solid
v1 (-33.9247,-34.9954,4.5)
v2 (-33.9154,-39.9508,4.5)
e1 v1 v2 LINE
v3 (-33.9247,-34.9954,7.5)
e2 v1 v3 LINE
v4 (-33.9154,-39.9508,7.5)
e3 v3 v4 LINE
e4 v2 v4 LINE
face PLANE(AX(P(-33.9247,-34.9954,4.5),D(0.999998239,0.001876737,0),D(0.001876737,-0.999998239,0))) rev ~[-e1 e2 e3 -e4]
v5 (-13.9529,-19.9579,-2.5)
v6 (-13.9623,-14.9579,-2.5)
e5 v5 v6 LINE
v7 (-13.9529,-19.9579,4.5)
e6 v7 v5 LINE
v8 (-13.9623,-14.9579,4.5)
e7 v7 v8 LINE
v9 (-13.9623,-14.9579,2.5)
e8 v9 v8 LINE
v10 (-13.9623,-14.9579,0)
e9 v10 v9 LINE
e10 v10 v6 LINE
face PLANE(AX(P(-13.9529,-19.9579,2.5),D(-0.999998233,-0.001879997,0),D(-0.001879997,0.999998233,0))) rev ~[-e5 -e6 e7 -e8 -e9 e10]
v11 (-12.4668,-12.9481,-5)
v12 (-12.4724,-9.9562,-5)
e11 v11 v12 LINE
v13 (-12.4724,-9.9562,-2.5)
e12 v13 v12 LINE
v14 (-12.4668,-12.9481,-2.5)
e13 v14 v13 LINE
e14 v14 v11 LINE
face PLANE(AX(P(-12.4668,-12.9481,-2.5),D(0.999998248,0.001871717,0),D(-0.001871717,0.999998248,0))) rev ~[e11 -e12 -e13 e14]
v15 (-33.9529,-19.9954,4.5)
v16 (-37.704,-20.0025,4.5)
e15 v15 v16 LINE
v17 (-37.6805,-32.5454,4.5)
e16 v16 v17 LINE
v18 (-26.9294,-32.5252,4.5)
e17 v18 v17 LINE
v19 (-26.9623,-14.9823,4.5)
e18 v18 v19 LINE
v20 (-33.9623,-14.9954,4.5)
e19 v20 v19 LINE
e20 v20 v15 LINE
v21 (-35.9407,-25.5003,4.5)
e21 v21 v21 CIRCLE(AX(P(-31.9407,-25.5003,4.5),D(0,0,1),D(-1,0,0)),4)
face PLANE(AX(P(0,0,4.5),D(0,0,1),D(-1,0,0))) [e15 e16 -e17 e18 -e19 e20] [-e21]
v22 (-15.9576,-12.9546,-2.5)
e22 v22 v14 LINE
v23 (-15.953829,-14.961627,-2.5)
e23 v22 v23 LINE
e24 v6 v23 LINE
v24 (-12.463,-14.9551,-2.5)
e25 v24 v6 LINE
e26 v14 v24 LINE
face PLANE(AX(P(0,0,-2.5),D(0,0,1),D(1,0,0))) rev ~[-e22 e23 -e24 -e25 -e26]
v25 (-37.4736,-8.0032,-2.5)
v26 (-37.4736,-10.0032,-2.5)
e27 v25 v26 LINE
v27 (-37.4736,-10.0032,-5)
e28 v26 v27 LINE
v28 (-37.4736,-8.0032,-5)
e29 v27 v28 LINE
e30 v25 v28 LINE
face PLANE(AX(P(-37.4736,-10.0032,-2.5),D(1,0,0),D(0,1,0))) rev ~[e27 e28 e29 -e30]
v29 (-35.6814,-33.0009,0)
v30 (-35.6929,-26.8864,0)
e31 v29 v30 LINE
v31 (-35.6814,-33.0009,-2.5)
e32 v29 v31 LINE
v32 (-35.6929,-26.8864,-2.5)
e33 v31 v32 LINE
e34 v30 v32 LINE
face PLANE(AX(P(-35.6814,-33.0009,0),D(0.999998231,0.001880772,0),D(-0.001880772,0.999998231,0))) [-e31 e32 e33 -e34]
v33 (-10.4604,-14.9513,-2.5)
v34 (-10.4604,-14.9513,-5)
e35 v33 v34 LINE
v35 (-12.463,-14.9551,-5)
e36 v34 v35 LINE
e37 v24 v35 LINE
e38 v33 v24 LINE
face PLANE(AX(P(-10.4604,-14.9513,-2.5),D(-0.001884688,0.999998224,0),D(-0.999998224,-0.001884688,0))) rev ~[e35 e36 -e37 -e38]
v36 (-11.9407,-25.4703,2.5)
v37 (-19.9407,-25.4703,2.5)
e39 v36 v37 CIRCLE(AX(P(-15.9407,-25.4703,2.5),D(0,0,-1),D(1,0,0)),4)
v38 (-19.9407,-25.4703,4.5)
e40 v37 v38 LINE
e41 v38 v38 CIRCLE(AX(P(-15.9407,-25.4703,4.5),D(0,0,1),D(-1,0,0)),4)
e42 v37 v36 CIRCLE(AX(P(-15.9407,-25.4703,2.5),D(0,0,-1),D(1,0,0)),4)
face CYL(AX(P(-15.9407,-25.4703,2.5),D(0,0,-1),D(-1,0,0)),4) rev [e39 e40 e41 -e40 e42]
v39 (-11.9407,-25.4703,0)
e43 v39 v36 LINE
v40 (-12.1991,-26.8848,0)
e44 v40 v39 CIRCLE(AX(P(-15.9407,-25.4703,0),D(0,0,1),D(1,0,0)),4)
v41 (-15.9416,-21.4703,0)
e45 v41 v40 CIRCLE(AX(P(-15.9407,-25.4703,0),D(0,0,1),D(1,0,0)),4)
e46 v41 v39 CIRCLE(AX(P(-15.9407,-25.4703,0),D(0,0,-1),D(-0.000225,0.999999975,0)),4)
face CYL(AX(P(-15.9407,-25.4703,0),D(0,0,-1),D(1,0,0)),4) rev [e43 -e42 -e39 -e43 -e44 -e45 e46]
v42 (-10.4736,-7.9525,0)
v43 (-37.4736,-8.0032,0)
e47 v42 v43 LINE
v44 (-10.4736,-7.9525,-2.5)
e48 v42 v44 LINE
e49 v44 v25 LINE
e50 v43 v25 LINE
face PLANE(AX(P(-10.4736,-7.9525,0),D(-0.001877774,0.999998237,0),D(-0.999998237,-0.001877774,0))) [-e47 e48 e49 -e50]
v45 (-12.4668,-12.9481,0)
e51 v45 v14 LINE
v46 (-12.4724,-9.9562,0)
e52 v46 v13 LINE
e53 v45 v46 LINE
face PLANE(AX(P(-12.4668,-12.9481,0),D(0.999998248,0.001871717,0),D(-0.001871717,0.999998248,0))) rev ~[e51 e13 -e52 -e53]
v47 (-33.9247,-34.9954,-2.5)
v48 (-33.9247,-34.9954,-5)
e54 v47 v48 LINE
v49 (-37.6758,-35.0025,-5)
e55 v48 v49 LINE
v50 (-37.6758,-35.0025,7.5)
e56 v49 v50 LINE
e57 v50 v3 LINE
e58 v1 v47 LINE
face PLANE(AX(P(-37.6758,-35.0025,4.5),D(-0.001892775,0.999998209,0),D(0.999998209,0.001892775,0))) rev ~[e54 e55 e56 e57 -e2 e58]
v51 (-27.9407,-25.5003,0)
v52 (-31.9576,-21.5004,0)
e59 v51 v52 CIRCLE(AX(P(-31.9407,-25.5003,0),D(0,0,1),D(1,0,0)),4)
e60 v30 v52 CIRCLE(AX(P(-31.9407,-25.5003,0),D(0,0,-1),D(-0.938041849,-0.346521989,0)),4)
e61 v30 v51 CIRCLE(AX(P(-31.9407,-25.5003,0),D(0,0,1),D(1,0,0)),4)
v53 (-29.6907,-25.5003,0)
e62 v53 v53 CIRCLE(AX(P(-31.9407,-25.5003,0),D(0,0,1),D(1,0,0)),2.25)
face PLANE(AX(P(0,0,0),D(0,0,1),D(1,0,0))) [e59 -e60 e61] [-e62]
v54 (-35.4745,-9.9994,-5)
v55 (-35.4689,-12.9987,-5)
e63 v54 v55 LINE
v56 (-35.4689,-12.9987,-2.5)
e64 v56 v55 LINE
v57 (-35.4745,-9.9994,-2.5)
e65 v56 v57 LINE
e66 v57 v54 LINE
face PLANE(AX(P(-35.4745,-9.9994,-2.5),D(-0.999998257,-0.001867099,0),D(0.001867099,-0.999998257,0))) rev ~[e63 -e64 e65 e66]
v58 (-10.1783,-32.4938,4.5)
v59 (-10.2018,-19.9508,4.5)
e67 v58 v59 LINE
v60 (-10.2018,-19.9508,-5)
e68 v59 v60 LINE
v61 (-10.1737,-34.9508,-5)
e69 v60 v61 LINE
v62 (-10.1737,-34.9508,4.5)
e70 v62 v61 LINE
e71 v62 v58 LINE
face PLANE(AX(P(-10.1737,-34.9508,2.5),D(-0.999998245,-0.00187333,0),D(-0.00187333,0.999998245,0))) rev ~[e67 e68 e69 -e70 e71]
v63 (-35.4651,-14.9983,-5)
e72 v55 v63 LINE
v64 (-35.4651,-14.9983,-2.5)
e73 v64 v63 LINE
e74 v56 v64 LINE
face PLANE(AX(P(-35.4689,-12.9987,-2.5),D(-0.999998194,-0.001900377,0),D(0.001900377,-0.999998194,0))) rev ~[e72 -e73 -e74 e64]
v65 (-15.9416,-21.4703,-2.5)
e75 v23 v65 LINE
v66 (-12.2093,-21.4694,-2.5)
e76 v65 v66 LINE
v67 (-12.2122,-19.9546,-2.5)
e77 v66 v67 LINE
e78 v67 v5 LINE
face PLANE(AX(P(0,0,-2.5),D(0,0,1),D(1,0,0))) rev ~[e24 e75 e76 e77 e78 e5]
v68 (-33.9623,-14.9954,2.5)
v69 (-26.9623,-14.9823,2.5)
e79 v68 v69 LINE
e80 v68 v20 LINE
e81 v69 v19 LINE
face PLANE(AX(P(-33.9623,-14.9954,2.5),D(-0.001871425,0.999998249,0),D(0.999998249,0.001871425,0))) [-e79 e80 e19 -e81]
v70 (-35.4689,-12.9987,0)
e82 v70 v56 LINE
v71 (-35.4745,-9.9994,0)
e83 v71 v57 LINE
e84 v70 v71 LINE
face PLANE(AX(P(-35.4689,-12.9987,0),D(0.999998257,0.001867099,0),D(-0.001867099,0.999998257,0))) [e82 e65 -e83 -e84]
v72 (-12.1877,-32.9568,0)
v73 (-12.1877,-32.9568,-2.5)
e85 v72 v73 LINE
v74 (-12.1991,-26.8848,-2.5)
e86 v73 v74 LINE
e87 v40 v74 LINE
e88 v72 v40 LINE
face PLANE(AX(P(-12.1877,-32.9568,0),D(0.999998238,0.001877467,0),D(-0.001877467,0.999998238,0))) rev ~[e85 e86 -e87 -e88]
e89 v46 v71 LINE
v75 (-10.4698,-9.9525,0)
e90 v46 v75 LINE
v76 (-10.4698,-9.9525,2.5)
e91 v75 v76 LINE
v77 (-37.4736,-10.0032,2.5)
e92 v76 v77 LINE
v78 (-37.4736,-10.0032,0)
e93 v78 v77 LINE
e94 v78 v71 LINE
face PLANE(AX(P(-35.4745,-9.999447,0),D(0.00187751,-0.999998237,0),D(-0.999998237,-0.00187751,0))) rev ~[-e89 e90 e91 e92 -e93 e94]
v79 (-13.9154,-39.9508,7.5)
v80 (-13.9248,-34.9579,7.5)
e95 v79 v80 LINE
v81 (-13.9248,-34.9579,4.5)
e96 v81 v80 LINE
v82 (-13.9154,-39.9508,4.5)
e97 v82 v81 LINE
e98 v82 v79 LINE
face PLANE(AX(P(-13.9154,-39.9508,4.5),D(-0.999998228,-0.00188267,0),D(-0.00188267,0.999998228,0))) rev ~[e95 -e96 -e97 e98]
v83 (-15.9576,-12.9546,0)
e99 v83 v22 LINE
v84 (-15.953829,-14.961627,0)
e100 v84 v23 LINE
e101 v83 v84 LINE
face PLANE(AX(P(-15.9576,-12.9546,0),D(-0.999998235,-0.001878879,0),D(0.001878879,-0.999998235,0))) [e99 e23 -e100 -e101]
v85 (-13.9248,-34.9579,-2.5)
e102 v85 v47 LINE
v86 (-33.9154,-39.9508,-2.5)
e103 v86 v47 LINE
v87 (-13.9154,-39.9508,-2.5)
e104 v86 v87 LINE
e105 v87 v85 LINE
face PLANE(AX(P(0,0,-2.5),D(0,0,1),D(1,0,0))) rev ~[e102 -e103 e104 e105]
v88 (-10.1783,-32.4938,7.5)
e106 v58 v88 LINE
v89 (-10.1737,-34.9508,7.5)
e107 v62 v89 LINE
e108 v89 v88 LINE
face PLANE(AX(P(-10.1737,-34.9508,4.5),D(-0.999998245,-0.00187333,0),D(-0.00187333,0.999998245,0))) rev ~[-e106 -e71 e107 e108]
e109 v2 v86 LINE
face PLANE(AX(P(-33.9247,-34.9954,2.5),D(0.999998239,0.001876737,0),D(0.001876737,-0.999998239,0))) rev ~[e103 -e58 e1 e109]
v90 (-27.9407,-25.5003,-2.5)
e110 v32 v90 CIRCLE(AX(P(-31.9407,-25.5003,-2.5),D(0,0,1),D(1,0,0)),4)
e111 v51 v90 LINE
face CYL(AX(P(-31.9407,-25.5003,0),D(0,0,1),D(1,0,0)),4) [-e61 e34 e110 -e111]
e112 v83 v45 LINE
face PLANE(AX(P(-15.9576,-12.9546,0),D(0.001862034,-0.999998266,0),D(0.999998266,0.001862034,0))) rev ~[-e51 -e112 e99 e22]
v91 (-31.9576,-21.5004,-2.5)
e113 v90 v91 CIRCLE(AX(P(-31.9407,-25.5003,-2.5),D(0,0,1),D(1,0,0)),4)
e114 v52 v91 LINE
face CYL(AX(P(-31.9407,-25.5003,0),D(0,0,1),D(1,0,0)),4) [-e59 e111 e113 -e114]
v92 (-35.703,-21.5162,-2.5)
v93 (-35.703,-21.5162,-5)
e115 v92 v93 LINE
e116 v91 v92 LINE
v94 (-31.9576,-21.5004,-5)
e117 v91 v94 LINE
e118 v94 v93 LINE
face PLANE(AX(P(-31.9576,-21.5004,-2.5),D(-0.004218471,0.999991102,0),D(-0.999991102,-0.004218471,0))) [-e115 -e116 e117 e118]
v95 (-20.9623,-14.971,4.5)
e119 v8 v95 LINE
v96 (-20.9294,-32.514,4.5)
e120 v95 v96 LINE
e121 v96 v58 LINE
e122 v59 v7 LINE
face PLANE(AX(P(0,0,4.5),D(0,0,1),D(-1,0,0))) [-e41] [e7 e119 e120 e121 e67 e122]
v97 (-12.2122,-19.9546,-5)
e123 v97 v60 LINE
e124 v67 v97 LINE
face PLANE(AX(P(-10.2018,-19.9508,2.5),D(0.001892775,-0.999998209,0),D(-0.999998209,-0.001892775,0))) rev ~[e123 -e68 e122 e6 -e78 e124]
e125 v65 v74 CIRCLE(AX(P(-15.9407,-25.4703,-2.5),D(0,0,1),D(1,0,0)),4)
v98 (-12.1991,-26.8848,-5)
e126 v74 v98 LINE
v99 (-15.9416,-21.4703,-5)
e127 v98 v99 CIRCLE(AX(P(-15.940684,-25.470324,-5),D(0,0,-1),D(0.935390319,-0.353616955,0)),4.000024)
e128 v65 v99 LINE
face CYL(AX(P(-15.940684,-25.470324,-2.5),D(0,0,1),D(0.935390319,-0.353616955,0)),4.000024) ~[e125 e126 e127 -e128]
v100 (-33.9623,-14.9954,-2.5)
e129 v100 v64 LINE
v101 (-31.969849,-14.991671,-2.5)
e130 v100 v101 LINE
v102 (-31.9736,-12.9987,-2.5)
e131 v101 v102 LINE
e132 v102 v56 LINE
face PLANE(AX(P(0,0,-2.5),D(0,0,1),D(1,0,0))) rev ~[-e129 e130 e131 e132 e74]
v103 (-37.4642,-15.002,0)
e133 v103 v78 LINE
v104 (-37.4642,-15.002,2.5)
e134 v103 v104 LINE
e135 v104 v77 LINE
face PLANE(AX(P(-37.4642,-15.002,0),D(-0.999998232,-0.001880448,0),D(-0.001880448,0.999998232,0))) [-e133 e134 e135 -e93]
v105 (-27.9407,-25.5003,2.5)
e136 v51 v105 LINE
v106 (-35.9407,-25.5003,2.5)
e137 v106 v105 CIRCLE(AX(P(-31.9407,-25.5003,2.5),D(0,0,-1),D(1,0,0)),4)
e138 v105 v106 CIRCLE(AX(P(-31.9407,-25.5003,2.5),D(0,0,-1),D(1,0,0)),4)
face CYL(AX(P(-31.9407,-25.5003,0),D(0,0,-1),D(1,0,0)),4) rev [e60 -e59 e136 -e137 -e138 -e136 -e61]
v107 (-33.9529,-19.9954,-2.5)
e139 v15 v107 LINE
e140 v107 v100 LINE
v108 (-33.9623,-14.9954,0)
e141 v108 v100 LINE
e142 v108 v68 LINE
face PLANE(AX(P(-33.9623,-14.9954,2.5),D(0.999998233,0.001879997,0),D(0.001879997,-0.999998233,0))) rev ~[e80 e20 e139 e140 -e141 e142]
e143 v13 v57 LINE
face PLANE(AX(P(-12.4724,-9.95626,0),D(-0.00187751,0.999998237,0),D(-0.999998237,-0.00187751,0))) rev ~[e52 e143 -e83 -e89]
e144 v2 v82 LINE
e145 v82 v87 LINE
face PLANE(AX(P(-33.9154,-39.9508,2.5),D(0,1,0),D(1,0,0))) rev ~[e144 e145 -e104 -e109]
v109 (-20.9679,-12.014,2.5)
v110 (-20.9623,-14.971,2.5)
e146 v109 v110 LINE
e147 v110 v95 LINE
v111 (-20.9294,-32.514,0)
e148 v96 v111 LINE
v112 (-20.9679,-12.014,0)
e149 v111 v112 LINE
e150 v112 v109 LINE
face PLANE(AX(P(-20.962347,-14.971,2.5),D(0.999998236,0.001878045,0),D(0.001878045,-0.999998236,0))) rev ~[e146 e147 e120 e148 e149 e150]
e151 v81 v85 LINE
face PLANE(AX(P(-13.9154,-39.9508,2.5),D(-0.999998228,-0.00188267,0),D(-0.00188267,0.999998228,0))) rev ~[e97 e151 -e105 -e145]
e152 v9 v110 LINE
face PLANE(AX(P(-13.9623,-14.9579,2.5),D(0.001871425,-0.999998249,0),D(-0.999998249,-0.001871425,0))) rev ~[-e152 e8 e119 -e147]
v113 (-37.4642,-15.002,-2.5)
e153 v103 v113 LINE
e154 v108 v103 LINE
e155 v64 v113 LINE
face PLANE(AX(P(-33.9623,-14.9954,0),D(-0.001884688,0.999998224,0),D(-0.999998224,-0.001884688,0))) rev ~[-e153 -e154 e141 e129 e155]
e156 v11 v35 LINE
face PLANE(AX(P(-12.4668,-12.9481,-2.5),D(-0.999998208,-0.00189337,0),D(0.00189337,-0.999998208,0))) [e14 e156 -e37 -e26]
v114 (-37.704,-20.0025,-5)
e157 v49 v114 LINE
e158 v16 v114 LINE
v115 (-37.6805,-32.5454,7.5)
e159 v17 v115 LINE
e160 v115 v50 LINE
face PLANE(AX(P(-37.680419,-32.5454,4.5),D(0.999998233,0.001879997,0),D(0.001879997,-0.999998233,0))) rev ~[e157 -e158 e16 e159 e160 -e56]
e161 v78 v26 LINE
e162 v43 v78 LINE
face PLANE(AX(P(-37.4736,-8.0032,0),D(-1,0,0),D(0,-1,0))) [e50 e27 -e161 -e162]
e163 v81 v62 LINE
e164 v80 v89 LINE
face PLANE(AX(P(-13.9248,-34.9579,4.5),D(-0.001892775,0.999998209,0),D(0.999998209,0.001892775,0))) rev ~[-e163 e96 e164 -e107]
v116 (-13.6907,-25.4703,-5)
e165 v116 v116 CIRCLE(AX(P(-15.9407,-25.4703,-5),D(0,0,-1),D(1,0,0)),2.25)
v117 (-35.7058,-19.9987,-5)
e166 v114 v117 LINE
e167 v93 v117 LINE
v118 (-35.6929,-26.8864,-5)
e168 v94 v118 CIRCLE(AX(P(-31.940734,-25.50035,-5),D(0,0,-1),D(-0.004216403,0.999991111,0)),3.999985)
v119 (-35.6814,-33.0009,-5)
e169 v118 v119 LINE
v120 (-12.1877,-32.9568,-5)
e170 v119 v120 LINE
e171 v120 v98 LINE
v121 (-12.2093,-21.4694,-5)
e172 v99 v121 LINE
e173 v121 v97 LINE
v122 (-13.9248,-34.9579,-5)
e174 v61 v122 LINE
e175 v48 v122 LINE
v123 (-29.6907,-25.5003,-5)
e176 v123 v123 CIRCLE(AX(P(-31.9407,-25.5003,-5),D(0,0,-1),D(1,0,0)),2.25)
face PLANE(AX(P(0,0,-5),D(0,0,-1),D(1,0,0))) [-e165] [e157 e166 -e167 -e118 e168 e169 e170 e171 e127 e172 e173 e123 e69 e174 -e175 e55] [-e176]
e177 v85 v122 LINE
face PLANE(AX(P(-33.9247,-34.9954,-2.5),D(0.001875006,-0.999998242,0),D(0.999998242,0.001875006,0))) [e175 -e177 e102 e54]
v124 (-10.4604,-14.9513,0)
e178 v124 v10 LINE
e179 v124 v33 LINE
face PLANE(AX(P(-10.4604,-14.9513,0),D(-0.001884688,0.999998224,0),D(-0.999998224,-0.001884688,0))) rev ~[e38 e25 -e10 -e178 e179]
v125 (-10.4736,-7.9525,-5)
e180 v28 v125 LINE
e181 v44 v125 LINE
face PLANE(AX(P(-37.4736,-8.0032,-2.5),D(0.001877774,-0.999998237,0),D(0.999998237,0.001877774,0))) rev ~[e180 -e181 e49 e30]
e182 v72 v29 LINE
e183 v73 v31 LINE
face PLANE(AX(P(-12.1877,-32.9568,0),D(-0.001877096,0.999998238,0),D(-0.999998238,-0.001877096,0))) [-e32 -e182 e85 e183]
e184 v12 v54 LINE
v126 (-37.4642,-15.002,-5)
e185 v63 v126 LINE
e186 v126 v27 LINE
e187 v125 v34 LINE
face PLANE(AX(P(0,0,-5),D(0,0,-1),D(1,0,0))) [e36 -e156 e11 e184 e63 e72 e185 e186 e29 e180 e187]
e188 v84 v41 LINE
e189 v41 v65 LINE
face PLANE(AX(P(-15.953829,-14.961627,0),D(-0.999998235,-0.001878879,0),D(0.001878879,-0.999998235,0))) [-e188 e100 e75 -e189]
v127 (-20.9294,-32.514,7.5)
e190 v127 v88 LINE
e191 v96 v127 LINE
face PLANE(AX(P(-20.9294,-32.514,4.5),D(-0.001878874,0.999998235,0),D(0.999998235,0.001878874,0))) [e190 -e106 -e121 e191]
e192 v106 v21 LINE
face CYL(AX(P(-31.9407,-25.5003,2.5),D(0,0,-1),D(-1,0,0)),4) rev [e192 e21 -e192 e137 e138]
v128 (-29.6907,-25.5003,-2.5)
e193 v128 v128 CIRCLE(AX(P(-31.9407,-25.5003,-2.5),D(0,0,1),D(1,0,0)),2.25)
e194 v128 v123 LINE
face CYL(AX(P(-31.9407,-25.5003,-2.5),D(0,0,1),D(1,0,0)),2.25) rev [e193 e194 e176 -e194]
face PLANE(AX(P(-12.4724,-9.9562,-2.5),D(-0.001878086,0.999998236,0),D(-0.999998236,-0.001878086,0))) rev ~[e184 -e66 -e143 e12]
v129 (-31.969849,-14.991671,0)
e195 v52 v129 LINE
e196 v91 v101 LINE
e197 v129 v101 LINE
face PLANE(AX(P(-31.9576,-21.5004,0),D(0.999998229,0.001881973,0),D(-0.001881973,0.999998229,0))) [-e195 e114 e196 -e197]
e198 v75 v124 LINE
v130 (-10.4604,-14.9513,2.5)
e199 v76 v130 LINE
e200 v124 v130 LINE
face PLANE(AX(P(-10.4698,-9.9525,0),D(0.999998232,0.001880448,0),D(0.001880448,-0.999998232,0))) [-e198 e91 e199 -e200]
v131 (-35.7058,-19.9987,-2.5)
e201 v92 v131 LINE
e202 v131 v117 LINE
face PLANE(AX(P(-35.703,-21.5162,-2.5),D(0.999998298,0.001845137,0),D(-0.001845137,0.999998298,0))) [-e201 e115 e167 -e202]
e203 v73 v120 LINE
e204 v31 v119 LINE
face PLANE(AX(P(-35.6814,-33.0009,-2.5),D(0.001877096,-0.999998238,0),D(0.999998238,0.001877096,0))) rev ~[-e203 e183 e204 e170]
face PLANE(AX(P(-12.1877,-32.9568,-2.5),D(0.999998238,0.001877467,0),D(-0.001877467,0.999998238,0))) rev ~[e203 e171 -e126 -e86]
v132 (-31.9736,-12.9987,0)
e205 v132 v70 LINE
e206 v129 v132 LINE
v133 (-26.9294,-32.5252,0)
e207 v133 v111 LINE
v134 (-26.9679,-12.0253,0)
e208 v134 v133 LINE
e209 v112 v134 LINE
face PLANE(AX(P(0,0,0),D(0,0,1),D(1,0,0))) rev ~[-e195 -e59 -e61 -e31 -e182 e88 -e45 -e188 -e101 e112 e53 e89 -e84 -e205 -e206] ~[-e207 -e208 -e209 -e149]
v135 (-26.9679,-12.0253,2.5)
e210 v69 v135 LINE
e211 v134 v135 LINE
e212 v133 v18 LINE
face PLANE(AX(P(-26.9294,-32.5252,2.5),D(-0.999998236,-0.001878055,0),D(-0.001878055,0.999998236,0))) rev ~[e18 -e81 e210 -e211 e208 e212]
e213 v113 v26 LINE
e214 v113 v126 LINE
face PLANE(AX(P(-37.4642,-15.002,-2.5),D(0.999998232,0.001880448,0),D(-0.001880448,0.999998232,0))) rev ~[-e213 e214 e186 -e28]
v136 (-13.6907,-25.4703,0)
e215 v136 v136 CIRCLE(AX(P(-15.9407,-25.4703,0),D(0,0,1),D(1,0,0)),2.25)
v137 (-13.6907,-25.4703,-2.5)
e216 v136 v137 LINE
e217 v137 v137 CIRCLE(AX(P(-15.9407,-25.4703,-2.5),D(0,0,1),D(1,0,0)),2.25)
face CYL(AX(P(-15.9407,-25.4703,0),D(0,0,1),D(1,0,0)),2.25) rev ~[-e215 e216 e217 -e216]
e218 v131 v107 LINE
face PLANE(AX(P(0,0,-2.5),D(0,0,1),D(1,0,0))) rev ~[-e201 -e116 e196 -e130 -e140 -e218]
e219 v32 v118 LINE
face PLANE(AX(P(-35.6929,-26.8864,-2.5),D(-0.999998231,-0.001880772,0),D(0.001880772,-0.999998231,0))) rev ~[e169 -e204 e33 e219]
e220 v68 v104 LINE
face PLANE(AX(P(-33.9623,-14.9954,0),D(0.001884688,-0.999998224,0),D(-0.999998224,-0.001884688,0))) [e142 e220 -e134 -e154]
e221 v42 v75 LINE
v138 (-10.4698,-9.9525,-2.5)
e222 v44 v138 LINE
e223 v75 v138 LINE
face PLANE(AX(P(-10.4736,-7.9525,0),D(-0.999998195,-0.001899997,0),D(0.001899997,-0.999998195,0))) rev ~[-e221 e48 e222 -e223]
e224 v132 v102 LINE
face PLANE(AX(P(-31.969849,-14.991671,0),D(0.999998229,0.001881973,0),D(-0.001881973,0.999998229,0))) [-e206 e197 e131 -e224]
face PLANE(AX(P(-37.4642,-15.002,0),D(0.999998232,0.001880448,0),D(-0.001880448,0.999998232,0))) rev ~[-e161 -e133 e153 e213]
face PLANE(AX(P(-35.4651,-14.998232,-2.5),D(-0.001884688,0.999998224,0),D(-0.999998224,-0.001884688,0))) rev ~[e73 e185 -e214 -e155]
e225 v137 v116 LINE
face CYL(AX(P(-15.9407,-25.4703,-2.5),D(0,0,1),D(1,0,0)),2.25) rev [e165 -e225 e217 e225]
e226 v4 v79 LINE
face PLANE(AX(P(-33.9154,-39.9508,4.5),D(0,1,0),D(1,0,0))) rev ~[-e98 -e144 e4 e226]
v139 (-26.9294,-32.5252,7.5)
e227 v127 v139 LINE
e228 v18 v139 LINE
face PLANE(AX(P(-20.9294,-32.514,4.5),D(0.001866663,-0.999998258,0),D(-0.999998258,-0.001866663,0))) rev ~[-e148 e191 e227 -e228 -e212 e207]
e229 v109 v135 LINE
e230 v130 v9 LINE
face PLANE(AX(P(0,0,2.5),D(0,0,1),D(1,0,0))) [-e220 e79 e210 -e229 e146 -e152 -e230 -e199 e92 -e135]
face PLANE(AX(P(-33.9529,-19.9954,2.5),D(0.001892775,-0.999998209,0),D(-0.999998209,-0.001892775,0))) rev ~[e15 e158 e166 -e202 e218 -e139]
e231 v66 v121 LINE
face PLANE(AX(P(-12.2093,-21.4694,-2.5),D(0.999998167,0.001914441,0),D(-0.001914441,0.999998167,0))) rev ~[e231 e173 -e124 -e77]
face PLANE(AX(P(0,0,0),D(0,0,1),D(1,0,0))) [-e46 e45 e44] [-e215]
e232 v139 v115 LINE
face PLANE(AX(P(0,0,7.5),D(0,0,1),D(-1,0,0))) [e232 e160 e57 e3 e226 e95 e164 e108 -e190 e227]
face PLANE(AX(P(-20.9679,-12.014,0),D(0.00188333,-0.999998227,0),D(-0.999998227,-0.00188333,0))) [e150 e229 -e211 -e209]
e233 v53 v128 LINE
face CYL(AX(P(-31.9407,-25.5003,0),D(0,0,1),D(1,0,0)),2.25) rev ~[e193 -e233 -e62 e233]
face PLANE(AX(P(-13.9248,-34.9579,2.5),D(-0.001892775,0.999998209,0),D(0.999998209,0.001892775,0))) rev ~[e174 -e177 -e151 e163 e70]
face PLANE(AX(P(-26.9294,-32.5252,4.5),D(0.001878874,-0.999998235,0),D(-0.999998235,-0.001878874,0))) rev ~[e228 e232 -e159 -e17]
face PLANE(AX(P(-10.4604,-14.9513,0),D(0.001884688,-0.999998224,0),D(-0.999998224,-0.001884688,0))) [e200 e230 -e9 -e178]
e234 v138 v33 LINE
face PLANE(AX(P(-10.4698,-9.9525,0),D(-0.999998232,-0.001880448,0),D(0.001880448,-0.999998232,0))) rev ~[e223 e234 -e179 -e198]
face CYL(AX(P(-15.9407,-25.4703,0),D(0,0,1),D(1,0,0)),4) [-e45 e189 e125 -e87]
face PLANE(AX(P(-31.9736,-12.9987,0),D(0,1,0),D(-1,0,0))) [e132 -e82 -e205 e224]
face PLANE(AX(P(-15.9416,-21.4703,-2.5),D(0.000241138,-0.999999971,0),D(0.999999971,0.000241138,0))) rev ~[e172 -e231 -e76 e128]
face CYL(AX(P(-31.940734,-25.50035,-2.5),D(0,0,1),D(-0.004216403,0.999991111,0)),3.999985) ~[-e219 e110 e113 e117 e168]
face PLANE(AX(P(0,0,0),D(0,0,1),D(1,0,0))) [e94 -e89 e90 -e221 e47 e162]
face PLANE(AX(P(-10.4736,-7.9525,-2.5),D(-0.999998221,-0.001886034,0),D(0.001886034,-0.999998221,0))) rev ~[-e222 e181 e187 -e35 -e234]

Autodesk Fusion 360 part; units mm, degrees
sketch "Sketch1" plane through (0, 0, 0) normal (0, 0, 1) x (1, 0, 0) in component "PecaPorta"
  line L0 (-37.704, -20.0025) -> (-33.9529, -19.9954)
  line L1 (-33.9529, -19.9954) -> (-33.9623, -14.9954)
  line L2 (-33.9623, -14.9954) -> (-37.4642, -15.002)
  line L3 (-37.4642, -15.002) -> (-37.4736, -10.0032)
  line L4 (-37.704, -20.0025) -> (-37.6758, -35.0025)
  line L5 (-10.4698, -9.9525) -> (-10.4604, -14.9513)
  line L6 (-10.1737, -34.9508) -> (-10.2018, -19.9508)
  line L7 (-10.2018, -19.9508) -> (-13.9529, -19.9579)
  line L8 (-13.9529, -19.9579) -> (-13.9623, -14.9579)
  line L9 (-10.4604, -14.9513) -> (-13.9623, -14.9579)
  line L10 (-26.9294, -32.5252) -> (-20.9294, -32.514)
  line L11 (-20.9294, -32.514) -> (-20.9679, -12.014)
  line L12 (-20.9679, -12.014) -> (-26.9679, -12.0253)
  line L13 (-26.9679, -12.0253) -> (-26.9294, -32.5252)
  circle A0 centre (-31.9407, -25.5003) radius 4
  circle A1 centre (-15.9407, -25.4703) radius 4
  line L14 (-33.9154, -39.9508) -> (-13.9154, -39.9508)
  line L15 (-33.9154, -39.9508) -> (-33.9247, -34.9954)
  line L16 (-13.9154, -39.9508) -> (-13.9248, -34.9579)
  line L17 (-10.4698, -9.9525) -> (-37.4736, -10.0032)
  circle A2 centre (-31.9407, -25.5003) radius 2.25
  circle A3 centre (-15.9407, -25.4703) radius 2.25
  line L18 (-10.4736, -7.9525) -> (-10.4698, -9.9525)
  line L19 (-10.4736, -7.9525) -> (-37.4736, -8.0032)
  line L20 (-37.4736, -8.0032) -> (-37.4736, -10.0032)
  line L21 (-37.6758, -35.0025) -> (-33.9247, -34.9954)
  line L22 (-13.9248, -34.9579) -> (-10.1737, -34.9508)
  line L23 (-13.9248, -34.9579) -> (-33.9247, -34.9954)
  line L24 (-12.1877, -32.9568) -> (-12.1991, -26.8848)
  line L25 (-12.2045, -24.0418) -> (-12.2084, -21.9579)
  line L26 (-12.2084, -21.9579) -> (-14.0206, -21.9613)
  line L27 (-15.9576, -12.9546) -> (-15.9416, -21.4703)
  line L28 (-15.9576, -12.9546) -> (-12.4668, -12.9481)
  line L29 (-12.4668, -12.9481) -> (-12.4724, -9.9562)
  line L30 (-12.1877, -32.9568) -> (-35.6814, -33.0009)
  line L31 (-35.6814, -33.0009) -> (-35.6929, -26.8864)
  line L32 (-35.6981, -24.1284) -> (-35.7021, -21.9994)
  line L33 (-33.8756, -21.9994) -> (-35.7021, -21.9994)
  line L34 (-31.9576, -21.5004) -> (-31.9736, -12.9987)
  line L35 (-31.9736, -12.9987) -> (-35.4689, -12.9987)
  line L36 (-35.4689, -12.9987) -> (-35.4745, -9.9994)
  line L37 (-13.9623, -14.9579) -> (-20.9623, -14.971)
  line L38 (-33.9623, -14.9954) -> (-26.9623, -14.9823)
  dimension "d28" = 20
  dimension "d40" = 27
extrude "Extrude7" add sketch "Sketch1" along normal blind 2.5 contours L0 L1 L4 L6 L7 L8 A0 A1 L21 L22 L23 L24 L25 L26 L27 L30 L31 L32 L33 L34 L37 L38 | L2 L3 L17 L34 L35 L36 L38 | L14 L15 L16 L23 | L10 L11 L13 A0 A1 L24 L27 L30 L31 L34 L37 L38 | L11 L12 L13 L17 L27 L28 L29 L34 L35 L36 L37 L38 | A0 L32 L33 | L5 L9 L17 L27 L28 L29 L37 | A1 L25 L26
sketch "Sketch3" plane through (0, 0, 2.5) normal (0, 0, 1) x (-1, 0, 0)
  circle A0 centre (31.9407, 25.5003) radius 4
  line L0 (26.9294, 32.5252) -> (26.9679, 12.0253)
  line L1 (26.9679, 12.0253) -> (20.9679, 12.014)
  line L2 (20.9679, 12.014) -> (20.9294, 32.514)
  line L3 (20.9294, 32.514) -> (26.9294, 32.5252)
  circle A1 centre (15.9407, 25.4703) radius 4
  line L4 (33.9154, 39.9508) -> (13.9154, 39.9508)
  line L5 (13.9154, 39.9508) -> (13.9248, 34.9579)
  line L6 (13.9248, 34.9579) -> (10.1737, 34.9508)
  line L7 (10.1737, 34.9508) -> (10.2018, 19.9508)
  line L8 (10.2018, 19.9508) -> (13.9529, 19.9579)
  line L9 (13.9529, 19.9579) -> (13.9623, 14.9579)
  line L10 (13.9623, 14.9579) -> (10.4604, 14.9513)
  line L11 (10.4604, 14.9513) -> (10.4698, 9.9525)
  line L12 (10.4698, 9.9525) -> (37.4736, 10.0032)
  line L13 (37.4736, 10.0032) -> (37.4642, 15.002)
  line L14 (37.4642, 15.002) -> (33.9623, 14.9954)
  line L15 (33.9623, 14.9954) -> (33.9529, 19.9954)
  line L16 (33.9529, 19.9954) -> (37.704, 20.0025)
  line L17 (37.704, 20.0025) -> (37.6758, 35.0025)
  line L18 (37.6758, 35.0025) -> (33.9247, 34.9954)
  line L19 (33.9247, 34.9954) -> (33.9154, 39.9508)
  line L20 (13.9623, 14.9579) -> (20.9623, 14.971)
  line L21 (33.9623, 14.9954) -> (26.9623, 14.9823)
  point P0 (20.9623, 14.971)
  point P1 (26.9623, 14.9823)
extrude "Extrude8" add sketch "Sketch3" along normal blind 2 contours L0 L2 L3 L4 L5 L6 L7 L8 L9 L15 L16 L17 L18 L19 L20 L21
extrude "Extrude9" add sketch "Sketch1" against normal blind 2.5 contours L0 L1 L4 L6 L7 L8 A0 A1 L21 L22 L23 L24 L25 L26 L27 L30 L31 L32 L33 L34 L37 L38 | L2 L3 L17 L34 L35 L36 L38 | L14 L15 L16 L23 | L17 L18 L19 L20 | A0 | A0 L32 L33 | L5 L9 L17 L27 L28 L29 L37 | A1 | A1 L25 L26
sketch "Sketch4" plane through (0, 0, -2.5) normal (0, 0, -1) x (1, 0, 0)
  circle A0 centre (-31.9407, 25.5003) radius 2.25
  line L0 (-12.1877, 32.9568) -> (-12.1991, 26.8848)
  arc A1 (-12.1991, 26.8848) -> (-15.9416, 21.4703) centre (-15.9407, 25.4703) ccw
  line L1 (-15.9416, 21.4703) -> (-15.9576, 12.9546)
  line L2 (-15.9576, 12.9546) -> (-12.4668, 12.9481)
  line L3 (-12.4668, 12.9481) -> (-12.4724, 9.9562)
  line L4 (-12.4724, 9.9562) -> (-35.4745, 9.9994)
  line L5 (-35.4745, 9.9994) -> (-35.4689, 12.9987)
  line L6 (-35.4689, 12.9987) -> (-31.9736, 12.9987)
  line L7 (-31.9736, 12.9987) -> (-31.9576, 21.5004)
  arc A2 (-31.9576, 21.5004) -> (-35.6929, 26.8864) centre (-31.9407, 25.5003) ccw
  line L8 (-35.6929, 26.8864) -> (-35.6814, 33.0009)
  line L9 (-35.6814, 33.0009) -> (-12.1877, 32.9568)
  circle A3 centre (-15.9407, 25.4703) radius 2.25
  line L10 (-13.9154, 39.9508) -> (-33.9154, 39.9508)
  line L11 (-33.9154, 39.9508) -> (-33.9247, 34.9954)
  line L12 (-33.9247, 34.9954) -> (-37.6758, 35.0025)
  line L13 (-37.6758, 35.0025) -> (-37.704, 20.0025)
  line L14 (-37.704, 20.0025) -> (-33.9529, 19.9954)
  line L15 (-33.9529, 19.9954) -> (-33.9623, 14.9954)
  line L16 (-33.9623, 14.9954) -> (-37.4642, 15.002)
  line L17 (-37.4642, 15.002) -> (-37.4736, 10.0032)
  line L18 (-37.4736, 10.0032) -> (-37.4736, 8.0032)
  line L19 (-37.4736, 8.0032) -> (-10.4736, 7.9525)
  line L20 (-10.4736, 7.9525) -> (-10.4604, 14.9513)
  line L21 (-10.4604, 14.9513) -> (-13.9623, 14.9579)
  line L22 (-13.9623, 14.9579) -> (-13.9529, 19.9579)
  line L23 (-13.9529, 19.9579) -> (-10.2018, 19.9508)
  line L24 (-10.2018, 19.9508) -> (-10.1737, 34.9508)
  line L25 (-10.1737, 34.9508) -> (-13.9248, 34.9579)
  line L26 (-13.9248, 34.9579) -> (-13.9154, 39.9508)
  line L27 (-35.4689, 12.9987) -> (-35.4651, 14.9983)
  line L28 (-33.9247, 34.9954) -> (-13.9248, 34.9579)
  line L29 (-12.4668, 12.9481) -> (-12.463, 14.9551)
  circle A4 centre (-15.9407, 25.4703) radius 4
  circle A5 centre (-31.9407, 25.5003) radius 4
  line L30 (-15.9416, 21.4703) -> (-12.2093, 21.4694)
  line L31 (-12.2093, 21.4694) -> (-12.2122, 19.9546)
  line L32 (-31.9576, 21.5004) -> (-35.703, 21.5162)
  line L33 (-35.703, 21.5162) -> (-35.7058, 19.9987)
extrude "Extrude10" add sketch "Sketch4" along normal blind 2.5 contours L0 L8 L9 L12 L13 L14 L23 L24 L25 L28 A4 A5 L30 L31 L32 L33 | A1 A4 | A2 A5 | L3 L4 L5 L16 L17 L18 L19 L20 L21 L27 L29
sketch "Sketch5" plane through (0, 0, 4.5) normal (0, 0, 1) x (-1, 0, 0)
  circle A0 centre (15.9407, 25.4703) radius 4
  circle A1 centre (31.9407, 25.5003) radius 4
  line L0 (33.9529, 19.9954) -> (37.704, 20.0025)
  line L1 (37.704, 20.0025) -> (37.6758, 35.0025)
  line L2 (37.6758, 35.0025) -> (33.9247, 34.9954)
  line L3 (33.9247, 34.9954) -> (33.9154, 39.9508)
  line L4 (33.9154, 39.9508) -> (13.9154, 39.9508)
  line L5 (13.9154, 39.9508) -> (13.9248, 34.9579)
  line L6 (13.9248, 34.9579) -> (10.1737, 34.9508)
  line L7 (10.1737, 34.9508) -> (10.2018, 19.9508)
  line L8 (10.2018, 19.9508) -> (13.9529, 19.9579)
  line L9 (13.9529, 19.9579) -> (13.9623, 14.9579)
  line L10 (13.9623, 14.9579) -> (20.9623, 14.971)
  line L11 (20.9623, 14.971) -> (20.9294, 32.514)
  line L12 (20.9294, 32.514) -> (26.9294, 32.5252)
  line L13 (26.9294, 32.5252) -> (26.9623, 14.9823)
  line L14 (26.9623, 14.9823) -> (33.9623, 14.9954)
  line L15 (33.9623, 14.9954) -> (33.9529, 19.9954)
  line L16 (20.9294, 32.514) -> (10.1783, 32.4938)
  line L17 (26.9294, 32.5252) -> (37.6805, 32.5454)
extrude "Extrude11" add sketch "Sketch5" along normal blind 3 contours L1 L2 L3 L4 L5 L6 L7 L12 L16 L17
component "PecaPorta" placed x (1, 0, 0) y (0, 1, 0) z (0, 0, 1) at (0, 0, 0)
